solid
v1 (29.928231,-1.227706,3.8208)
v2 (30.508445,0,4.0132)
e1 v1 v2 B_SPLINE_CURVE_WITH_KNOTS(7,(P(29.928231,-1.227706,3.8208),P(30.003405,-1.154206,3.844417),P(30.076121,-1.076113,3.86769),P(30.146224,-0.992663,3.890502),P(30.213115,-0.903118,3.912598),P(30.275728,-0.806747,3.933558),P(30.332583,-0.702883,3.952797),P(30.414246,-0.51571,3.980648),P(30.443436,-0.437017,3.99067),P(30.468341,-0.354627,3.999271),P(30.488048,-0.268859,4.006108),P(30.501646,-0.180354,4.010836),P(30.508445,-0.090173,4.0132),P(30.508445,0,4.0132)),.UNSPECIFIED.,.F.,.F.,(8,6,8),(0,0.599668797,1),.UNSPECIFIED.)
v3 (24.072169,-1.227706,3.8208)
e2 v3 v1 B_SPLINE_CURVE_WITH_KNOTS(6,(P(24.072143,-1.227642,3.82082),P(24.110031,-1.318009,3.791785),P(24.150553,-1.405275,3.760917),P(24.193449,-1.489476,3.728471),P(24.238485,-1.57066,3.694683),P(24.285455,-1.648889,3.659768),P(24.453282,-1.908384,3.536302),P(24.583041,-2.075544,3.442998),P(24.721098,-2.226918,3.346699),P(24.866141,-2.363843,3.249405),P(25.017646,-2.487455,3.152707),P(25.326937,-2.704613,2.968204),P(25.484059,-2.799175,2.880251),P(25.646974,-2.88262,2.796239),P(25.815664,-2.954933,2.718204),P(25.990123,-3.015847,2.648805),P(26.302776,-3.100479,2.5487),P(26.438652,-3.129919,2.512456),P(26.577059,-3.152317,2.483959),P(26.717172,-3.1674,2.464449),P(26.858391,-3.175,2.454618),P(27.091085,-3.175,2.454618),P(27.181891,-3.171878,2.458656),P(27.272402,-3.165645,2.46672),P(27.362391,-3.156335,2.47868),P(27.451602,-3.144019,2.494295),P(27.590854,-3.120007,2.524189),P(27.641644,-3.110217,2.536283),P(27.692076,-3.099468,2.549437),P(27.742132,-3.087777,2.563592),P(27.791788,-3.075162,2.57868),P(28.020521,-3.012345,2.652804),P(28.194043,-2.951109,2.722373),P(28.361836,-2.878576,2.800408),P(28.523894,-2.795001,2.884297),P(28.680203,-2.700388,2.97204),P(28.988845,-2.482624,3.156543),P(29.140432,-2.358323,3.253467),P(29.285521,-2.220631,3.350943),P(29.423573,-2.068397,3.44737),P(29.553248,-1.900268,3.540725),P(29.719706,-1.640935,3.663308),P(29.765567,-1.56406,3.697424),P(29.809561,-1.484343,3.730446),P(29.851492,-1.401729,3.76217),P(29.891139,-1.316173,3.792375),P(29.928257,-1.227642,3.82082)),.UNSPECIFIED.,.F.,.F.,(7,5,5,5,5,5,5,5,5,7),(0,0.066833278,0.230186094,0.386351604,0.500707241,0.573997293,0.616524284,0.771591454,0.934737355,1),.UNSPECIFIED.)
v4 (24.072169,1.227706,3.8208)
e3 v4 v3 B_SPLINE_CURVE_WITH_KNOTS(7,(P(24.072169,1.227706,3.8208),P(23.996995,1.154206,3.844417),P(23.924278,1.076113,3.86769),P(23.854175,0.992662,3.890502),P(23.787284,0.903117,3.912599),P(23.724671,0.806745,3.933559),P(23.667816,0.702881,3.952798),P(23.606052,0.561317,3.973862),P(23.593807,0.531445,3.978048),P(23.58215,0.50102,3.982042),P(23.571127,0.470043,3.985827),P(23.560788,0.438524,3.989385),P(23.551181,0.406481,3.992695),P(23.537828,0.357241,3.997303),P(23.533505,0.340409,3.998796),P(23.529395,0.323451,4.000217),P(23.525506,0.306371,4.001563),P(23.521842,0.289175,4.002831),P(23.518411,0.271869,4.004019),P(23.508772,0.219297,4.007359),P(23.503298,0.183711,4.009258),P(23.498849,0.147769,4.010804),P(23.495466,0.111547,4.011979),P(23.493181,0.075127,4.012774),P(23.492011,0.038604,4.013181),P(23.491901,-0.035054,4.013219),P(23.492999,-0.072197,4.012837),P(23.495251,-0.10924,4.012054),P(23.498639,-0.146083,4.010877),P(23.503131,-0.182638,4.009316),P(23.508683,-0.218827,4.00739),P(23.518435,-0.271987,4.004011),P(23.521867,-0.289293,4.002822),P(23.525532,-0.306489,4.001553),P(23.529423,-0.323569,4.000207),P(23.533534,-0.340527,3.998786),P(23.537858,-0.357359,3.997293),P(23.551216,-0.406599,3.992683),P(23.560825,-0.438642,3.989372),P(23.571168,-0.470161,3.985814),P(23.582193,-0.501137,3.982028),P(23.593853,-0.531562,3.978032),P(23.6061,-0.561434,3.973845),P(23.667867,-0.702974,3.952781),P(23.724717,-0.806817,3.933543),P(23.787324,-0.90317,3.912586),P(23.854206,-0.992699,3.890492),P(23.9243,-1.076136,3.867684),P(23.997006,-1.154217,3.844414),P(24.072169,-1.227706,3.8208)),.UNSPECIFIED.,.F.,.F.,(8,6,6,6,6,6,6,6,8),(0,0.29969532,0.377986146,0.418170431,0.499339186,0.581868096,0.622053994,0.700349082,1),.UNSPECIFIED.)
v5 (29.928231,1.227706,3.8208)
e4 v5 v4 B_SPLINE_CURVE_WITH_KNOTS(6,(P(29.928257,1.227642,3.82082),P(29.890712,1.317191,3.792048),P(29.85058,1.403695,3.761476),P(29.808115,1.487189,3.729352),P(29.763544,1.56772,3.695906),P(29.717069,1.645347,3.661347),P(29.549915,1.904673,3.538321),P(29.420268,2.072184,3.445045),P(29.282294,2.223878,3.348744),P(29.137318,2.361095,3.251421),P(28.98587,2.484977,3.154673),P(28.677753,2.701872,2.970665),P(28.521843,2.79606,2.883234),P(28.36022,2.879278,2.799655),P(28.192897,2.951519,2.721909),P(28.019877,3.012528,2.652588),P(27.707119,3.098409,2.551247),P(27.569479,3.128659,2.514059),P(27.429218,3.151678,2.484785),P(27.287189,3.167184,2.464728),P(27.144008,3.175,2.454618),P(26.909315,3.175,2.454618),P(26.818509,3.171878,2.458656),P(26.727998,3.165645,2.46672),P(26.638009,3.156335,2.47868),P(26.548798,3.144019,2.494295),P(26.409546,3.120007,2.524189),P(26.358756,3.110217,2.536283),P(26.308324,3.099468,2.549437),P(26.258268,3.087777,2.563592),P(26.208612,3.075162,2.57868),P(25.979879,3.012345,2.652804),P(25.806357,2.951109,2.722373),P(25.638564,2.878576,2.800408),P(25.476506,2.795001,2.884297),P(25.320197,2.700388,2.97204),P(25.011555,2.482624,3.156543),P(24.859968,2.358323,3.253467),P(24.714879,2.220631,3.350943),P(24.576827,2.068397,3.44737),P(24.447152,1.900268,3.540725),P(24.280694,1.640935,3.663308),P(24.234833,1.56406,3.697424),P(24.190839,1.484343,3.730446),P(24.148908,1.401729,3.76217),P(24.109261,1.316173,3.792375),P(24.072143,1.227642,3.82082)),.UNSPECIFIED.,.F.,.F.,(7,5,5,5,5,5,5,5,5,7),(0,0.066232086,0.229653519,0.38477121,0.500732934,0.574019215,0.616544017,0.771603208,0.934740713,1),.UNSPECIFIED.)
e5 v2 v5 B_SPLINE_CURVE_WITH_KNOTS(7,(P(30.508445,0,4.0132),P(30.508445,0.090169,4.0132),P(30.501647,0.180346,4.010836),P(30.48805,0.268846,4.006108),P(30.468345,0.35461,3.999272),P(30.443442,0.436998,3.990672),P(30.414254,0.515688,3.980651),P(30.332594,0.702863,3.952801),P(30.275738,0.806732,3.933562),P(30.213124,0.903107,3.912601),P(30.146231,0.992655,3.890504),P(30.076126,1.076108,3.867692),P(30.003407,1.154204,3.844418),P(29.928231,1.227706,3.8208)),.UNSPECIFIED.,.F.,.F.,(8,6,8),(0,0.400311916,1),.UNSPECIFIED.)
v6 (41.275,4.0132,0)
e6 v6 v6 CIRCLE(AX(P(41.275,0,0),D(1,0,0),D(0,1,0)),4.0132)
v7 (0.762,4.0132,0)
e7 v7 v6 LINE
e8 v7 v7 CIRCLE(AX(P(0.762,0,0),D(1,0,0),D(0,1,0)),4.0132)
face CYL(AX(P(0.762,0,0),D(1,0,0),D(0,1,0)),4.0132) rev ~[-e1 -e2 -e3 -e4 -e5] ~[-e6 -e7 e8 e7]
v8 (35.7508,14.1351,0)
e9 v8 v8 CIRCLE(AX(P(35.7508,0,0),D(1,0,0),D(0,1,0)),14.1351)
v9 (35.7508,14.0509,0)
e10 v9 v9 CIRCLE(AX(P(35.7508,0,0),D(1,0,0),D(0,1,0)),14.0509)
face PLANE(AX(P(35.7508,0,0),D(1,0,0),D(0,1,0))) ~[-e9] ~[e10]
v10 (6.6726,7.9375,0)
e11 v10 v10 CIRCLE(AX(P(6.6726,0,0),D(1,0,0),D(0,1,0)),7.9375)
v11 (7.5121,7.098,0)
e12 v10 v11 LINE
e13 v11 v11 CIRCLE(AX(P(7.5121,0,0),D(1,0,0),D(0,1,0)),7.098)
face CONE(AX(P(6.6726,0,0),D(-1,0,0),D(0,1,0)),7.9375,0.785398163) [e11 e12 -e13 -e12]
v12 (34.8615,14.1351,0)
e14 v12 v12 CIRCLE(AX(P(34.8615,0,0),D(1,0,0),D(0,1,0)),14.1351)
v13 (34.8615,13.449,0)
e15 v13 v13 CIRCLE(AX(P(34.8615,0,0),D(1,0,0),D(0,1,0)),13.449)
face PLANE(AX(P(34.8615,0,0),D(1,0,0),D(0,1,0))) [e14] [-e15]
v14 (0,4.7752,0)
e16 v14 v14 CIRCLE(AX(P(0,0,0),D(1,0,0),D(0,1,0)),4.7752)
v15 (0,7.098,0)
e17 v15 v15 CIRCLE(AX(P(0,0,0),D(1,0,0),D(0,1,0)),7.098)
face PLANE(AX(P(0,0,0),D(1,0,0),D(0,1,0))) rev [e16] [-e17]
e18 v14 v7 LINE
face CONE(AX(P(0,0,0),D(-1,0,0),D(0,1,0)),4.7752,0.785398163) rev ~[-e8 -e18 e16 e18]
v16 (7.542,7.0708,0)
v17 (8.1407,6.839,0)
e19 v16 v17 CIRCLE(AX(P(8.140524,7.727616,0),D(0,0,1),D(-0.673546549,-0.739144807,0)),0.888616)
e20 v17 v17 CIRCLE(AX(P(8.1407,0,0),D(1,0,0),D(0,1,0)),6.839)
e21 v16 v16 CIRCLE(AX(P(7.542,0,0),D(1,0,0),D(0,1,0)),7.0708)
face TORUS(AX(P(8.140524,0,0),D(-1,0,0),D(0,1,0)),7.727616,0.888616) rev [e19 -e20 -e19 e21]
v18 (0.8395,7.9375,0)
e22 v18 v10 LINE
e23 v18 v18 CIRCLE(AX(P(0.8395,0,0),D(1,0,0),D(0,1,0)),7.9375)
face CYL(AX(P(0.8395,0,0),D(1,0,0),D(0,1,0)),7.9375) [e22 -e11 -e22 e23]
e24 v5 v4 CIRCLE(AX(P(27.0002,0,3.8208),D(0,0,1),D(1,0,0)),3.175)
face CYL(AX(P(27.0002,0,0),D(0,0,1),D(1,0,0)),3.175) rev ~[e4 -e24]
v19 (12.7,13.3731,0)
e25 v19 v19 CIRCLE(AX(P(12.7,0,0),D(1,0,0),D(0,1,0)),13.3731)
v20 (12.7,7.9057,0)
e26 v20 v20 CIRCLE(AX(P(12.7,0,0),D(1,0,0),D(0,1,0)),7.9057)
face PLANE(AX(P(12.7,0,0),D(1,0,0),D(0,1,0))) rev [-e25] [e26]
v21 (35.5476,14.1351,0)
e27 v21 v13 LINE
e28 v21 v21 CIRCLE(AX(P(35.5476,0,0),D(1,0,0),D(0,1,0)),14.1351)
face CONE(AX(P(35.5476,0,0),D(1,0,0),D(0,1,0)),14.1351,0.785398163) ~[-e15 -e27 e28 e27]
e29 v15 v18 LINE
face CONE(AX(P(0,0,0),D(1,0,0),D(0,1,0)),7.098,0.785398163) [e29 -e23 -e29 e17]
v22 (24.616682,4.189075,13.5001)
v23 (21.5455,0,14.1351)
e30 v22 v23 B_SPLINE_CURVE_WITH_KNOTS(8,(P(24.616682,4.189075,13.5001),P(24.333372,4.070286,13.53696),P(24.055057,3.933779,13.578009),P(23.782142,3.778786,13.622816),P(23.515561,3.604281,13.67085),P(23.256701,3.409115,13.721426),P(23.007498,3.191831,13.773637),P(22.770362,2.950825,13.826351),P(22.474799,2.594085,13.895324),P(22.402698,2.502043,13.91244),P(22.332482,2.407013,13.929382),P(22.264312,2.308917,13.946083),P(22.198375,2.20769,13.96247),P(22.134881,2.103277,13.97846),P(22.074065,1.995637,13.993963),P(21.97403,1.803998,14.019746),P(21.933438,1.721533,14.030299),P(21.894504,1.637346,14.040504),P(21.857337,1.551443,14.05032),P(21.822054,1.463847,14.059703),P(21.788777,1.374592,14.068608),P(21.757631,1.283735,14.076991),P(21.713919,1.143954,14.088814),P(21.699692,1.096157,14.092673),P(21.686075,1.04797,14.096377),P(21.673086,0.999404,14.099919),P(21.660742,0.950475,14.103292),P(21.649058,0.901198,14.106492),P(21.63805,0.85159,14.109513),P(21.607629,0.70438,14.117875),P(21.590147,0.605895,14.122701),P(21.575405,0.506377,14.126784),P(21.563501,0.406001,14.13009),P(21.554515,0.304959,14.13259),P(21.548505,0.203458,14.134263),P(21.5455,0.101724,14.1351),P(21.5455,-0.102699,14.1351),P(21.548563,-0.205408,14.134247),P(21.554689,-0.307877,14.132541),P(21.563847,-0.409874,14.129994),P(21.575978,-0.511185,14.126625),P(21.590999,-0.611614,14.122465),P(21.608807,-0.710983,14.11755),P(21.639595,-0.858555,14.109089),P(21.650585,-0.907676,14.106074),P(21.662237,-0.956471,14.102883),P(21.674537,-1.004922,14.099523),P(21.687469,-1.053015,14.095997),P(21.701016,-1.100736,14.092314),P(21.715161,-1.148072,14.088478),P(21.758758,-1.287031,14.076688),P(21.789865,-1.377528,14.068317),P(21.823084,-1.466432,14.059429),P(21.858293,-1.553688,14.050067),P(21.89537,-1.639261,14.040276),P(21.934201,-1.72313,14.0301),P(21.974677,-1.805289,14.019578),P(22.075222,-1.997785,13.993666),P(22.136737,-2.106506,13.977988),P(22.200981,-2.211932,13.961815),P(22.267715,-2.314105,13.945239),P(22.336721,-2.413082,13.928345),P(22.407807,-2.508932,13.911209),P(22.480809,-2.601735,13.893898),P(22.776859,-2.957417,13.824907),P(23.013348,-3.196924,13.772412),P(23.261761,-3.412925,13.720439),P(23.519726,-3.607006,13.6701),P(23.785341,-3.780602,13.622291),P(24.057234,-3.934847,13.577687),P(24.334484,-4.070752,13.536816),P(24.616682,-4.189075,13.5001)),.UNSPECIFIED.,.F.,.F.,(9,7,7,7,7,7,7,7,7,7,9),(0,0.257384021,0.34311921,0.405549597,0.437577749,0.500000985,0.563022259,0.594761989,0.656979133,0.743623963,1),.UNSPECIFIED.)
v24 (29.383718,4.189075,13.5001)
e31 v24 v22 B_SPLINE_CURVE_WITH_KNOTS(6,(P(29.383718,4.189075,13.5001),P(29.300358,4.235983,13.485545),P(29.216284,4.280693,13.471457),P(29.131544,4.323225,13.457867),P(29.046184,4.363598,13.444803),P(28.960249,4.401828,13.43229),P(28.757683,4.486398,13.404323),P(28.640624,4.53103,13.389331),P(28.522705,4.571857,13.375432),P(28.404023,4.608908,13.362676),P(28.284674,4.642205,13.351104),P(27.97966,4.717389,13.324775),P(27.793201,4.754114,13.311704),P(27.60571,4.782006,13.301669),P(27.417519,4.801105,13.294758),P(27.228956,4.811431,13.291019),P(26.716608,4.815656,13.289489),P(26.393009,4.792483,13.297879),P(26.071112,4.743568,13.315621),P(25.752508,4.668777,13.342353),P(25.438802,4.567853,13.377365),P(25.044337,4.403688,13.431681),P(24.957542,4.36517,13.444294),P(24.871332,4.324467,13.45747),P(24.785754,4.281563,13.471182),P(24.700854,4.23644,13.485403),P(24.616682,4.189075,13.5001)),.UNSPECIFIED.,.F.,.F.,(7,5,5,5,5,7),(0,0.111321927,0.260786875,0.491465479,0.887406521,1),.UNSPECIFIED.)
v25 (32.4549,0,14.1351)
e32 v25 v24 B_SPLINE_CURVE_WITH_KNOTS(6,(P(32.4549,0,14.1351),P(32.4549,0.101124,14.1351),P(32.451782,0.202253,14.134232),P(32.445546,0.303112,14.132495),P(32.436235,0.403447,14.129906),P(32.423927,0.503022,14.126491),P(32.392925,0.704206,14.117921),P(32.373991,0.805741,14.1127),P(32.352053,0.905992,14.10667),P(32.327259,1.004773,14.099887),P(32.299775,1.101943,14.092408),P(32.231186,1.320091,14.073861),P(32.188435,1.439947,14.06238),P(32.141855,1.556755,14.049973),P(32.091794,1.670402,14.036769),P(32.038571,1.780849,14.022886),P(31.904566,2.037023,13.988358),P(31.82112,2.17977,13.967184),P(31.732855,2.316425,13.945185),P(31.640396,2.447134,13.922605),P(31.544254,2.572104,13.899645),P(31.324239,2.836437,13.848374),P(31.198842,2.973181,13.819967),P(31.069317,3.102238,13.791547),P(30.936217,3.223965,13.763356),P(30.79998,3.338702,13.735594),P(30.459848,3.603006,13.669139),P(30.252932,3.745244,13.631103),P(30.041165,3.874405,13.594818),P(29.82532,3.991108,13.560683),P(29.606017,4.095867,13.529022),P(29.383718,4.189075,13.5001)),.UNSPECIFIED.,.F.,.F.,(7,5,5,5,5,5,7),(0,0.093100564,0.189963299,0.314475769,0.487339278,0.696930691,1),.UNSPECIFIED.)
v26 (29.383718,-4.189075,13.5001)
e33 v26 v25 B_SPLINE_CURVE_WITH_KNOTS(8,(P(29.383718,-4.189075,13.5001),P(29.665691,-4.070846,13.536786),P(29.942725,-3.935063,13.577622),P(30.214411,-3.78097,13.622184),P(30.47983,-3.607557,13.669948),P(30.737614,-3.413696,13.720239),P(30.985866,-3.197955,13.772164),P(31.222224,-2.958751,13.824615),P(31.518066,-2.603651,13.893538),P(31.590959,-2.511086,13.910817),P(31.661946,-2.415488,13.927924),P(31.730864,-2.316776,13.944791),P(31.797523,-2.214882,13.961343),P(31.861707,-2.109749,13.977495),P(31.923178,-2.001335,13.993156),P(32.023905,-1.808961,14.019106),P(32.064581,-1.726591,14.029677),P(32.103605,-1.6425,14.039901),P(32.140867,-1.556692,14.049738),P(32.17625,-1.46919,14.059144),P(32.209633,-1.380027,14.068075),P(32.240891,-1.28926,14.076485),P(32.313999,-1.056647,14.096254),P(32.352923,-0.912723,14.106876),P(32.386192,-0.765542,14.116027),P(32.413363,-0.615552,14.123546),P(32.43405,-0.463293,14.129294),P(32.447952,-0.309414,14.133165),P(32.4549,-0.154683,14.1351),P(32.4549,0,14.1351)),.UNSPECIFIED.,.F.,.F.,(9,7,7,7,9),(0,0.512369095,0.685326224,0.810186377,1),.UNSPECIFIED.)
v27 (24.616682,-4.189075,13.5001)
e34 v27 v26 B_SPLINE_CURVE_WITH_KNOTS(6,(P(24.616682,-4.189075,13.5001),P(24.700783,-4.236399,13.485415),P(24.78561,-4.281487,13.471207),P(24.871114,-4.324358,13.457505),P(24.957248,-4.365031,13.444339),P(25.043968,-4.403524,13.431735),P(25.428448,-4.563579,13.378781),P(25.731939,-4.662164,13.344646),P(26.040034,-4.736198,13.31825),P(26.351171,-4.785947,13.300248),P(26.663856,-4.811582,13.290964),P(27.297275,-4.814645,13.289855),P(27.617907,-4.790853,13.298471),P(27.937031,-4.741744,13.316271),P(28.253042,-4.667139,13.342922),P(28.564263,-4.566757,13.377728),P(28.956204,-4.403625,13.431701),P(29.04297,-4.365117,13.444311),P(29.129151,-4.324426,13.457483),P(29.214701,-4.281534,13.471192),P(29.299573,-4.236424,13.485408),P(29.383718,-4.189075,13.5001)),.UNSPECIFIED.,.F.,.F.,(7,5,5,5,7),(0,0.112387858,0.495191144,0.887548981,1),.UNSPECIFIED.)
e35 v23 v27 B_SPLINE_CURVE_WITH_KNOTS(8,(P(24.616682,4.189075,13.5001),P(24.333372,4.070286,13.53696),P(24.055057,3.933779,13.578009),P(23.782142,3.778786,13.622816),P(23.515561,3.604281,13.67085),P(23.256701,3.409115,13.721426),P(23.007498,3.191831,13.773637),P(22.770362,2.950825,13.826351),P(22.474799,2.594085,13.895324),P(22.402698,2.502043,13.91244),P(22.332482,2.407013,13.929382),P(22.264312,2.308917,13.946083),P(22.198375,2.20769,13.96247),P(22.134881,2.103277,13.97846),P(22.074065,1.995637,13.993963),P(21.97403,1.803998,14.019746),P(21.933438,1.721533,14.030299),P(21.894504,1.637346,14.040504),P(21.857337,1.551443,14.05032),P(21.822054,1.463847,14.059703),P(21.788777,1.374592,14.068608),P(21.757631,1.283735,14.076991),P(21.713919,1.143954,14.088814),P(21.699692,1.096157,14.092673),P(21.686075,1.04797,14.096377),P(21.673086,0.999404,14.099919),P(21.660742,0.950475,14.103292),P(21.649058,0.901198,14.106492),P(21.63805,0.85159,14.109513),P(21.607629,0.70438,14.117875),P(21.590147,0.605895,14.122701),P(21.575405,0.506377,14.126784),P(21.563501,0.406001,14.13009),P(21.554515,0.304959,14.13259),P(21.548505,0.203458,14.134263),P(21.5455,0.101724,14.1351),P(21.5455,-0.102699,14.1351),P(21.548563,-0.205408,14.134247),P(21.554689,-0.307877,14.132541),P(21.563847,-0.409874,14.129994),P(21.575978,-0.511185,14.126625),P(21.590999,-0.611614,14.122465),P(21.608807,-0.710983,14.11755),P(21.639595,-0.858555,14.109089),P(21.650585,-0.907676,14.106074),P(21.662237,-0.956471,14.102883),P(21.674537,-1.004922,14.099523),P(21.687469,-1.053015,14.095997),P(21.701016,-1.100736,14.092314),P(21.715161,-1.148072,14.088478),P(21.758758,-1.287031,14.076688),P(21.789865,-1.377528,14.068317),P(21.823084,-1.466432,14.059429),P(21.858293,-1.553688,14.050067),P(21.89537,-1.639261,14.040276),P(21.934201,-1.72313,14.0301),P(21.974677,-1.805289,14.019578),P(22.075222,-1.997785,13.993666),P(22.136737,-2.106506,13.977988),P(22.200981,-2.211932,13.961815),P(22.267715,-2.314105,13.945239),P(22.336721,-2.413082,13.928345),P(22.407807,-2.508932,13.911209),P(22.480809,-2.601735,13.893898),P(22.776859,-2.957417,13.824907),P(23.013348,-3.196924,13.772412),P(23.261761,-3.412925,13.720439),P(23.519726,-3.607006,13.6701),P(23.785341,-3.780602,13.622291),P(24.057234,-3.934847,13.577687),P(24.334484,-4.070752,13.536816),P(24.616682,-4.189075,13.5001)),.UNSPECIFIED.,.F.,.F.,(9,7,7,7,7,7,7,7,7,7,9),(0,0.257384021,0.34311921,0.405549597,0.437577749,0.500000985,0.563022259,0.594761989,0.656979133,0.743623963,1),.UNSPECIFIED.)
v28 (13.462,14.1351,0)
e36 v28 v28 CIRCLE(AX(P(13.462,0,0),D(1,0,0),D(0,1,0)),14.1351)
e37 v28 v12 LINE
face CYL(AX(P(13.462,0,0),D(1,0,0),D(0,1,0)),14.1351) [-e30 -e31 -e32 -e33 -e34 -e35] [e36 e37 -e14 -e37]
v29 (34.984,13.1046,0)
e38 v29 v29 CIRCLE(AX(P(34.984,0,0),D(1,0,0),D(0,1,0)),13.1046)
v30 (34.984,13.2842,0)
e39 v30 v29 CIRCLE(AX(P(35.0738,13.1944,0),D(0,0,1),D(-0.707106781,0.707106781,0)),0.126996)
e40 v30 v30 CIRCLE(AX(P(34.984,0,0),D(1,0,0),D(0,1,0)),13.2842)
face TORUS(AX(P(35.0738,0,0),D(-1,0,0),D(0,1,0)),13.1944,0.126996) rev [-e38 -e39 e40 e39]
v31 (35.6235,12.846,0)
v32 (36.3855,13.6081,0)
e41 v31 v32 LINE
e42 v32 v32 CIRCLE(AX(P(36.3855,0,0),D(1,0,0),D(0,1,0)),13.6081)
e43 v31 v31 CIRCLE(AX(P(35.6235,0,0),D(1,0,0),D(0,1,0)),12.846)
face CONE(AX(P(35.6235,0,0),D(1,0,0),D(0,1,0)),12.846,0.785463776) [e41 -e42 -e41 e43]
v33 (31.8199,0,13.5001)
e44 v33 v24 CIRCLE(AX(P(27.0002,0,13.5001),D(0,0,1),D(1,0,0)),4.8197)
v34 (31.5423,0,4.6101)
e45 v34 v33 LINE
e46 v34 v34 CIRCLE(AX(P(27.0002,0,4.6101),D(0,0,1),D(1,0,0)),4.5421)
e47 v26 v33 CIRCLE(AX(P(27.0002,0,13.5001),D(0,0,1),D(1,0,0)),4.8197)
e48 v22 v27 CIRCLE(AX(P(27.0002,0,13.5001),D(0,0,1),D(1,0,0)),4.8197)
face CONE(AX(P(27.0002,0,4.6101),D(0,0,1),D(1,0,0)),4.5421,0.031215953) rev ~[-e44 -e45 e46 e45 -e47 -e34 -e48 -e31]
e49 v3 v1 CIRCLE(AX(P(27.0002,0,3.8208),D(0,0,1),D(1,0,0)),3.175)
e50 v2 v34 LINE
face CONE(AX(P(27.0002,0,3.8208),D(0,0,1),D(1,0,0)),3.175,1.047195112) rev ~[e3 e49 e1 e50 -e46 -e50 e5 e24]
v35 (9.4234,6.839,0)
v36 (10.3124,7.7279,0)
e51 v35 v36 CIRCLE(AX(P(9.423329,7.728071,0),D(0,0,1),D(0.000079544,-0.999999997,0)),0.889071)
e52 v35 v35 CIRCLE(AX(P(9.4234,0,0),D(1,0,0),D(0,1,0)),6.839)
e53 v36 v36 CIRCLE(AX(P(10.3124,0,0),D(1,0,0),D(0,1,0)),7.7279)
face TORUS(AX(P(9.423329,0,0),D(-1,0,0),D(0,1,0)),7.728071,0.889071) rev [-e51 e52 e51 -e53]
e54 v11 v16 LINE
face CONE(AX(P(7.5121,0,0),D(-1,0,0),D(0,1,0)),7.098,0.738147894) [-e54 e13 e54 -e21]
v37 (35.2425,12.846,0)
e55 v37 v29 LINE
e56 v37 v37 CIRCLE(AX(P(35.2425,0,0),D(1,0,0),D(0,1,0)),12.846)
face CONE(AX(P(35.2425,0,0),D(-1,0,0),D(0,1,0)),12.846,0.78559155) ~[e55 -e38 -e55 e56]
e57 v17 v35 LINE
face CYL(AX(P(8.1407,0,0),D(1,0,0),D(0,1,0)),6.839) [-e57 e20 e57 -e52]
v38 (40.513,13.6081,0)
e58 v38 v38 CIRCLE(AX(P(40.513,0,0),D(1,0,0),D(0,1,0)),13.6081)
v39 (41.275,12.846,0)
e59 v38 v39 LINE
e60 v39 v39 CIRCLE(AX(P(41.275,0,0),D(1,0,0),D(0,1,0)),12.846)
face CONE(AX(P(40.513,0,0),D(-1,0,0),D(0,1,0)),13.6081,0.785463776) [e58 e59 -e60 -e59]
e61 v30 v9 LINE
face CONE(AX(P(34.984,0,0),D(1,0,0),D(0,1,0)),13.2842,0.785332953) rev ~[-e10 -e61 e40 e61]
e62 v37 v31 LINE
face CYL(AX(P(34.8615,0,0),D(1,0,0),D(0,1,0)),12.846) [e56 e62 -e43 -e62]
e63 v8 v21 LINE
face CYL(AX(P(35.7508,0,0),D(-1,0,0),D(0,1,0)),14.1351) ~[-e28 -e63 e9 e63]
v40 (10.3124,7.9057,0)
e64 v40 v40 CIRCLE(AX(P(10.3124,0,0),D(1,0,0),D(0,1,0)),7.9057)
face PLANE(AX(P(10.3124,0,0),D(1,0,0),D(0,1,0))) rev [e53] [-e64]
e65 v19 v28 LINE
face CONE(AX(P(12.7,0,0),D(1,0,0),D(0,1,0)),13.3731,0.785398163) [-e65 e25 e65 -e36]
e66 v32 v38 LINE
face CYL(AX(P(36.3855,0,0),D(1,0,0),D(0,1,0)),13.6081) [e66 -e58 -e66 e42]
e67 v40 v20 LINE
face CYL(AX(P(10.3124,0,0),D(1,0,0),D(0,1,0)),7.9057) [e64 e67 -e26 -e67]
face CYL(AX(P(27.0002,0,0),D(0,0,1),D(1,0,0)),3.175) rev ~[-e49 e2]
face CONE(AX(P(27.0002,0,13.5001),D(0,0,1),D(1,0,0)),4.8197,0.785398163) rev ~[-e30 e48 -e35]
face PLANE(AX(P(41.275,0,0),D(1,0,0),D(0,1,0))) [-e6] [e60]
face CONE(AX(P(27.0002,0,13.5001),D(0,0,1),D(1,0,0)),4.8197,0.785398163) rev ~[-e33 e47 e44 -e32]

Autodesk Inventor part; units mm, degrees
sketch "Sketch_2" plane through (0, 0, 0) normal (0, 0, 1) x (1, 0, 0)
  line L0 (12.7, 0) -> (0, 0)
  line L1 (0, 0) -> (0, 7.098)
  line L2 (0, 7.098) -> (0.8395, 7.9375)
  line L3 (0.8395, 7.9375) -> (6.6726, 7.9375)
  line L4 (6.6726, 7.9375) -> (7.5121, 7.098)
  line L5 (7.5121, 7.098) -> (7.542, 7.0708)
  arc A0 (7.542, 7.0708) -> (8.1407, 6.839) centre (8.1407, 7.7279) ccw
  line L6 (8.1407, 6.839) -> (9.4234, 6.839)
  arc A1 (9.4234, 6.839) -> (10.3124, 7.7279) centre (9.4234, 7.7279) ccw
  line L7 (10.3124, 7.7279) -> (10.3124, 7.9057)
  line L8 (10.3124, 7.9057) -> (12.7, 7.9057)
  line L9 (12.7, 7.9057) -> (12.7, 0)
  line L10 (12.7, 0) -> (0, 0)
revolve "Revolution1" add sketch "Sketch_2" angle 360 about axis through (12.7, 0, 0) along (1, 0, 0)
thread "Thread1" size "5/8-18 UNF" class "3A" standard "ANSI Unified Screw Threads" full length
sketch "Sketch_3" plane through (0, 0, 0) normal (0, 0, 1) x (1, 0, 0)
  line L0 (41.275, 0) -> (12.7, 0)
  line L1 (12.7, 0) -> (12.7, 13.3731)
  line L2 (12.7, 13.3731) -> (13.462, 14.1351)
  line L3 (13.462, 14.1351) -> (34.8615, 14.1351)
  line L4 (34.8615, 14.1351) -> (34.8615, 12.846)
  line L5 (34.8615, 12.846) -> (35.6235, 12.846)
  line L6 (35.6235, 12.846) -> (36.3855, 13.6081)
  line L7 (36.3855, 13.6081) -> (40.513, 13.6081)
  line L8 (40.513, 13.6081) -> (41.275, 12.846)
  line L9 (41.275, 12.846) -> (41.275, 0)
  line L10 (41.275, 0) -> (12.7, 0)
revolve "Revolution2" add sketch "Sketch_3" angle 360 about axis through (41.275, 0, 0) along (1, 0, 0)
sketch "Sketch_5" plane through (0, 0, 0) normal (0, 0, 1) x (1, 0, 0)
  line L0 (41.275, 0) -> (0, 0)
  line L1 (0, 0) -> (0, 4.7752)
  line L2 (0, 4.7752) -> (0.762, 4.0132)
  line L3 (0.762, 4.0132) -> (41.275, 4.0132)
  line L4 (41.275, 4.0132) -> (41.275, 0)
  line L5 (41.275, 0) -> (0, 0)
revolve "Revolution3" cut sketch "Sketch_5" angle 360 about axis through (41.275, 0, 0) along (1, 0, 0)
sketch "Sketch_40" plane through (0, 0, 0) normal (0, 1, 0) x (-1, 0, 0)
  line L0 (-27.0002, 14.1351) -> (-27.0002, 0)
  line L1 (-27.0002, 0) -> (-30.1752, 0)
  line L2 (-30.1752, 0) -> (-30.1752, 3.8208)
  line L3 (-30.1752, 3.8208) -> (-31.5423, 4.6101)
  line L4 (-31.5423, 4.6101) -> (-31.8199, 13.5001)
  line L5 (-31.8199, 13.5001) -> (-32.4549, 14.1351)
  line L6 (-32.4549, 14.1351) -> (-27.0002, 14.1351)
  line L7 (-27.0002, 14.1351) -> (-27.0002, 0)
revolve "Revolution4" cut sketch "Sketch_40" angle 360 about axis through (27.0002, 0, 14.1351) along (0, 0, 1)
sketch "Sketch_47" plane through (0, 0, 0) normal (0, 0, 1) x (1, 0, 0)
  line L0 (35.6235, 0) -> (34.8615, 0)
  line L1 (34.8615, 12.5921) -> (35.6235, 12.5921)
  line L2 (35.6235, 12.5921) -> (35.6235, 12.846)
  line L3 (35.6235, 12.846) -> (35.2425, 12.846)
  line L4 (35.2425, 12.846) -> (34.984, 13.1046)
  arc A0 (34.984, 13.2842) -> (34.984, 13.1046) centre (35.0738, 13.1944) ccw
  line L5 (34.984, 13.2842) -> (35.7508, 14.0509)
  line L6 (35.7508, 14.0509) -> (35.7508, 14.1351)
  line L7 (35.7508, 14.1351) -> (35.5476, 14.1351)
  line L8 (35.5476, 14.1351) -> (34.8615, 13.449)
  line L9 (34.8615, 13.449) -> (34.8615, 12.5921)
revolve "Revolution5" add sketch "Sketch_47" angle 360 about axis through (35.6235, 0, 0) along (1, 0, 0)
ref_plane "s1_XY" through (10.3124, 0, 0) normal (0, 0, 1) x (1, 0, 0)
ref_plane "s1_YZ" through (10.3124, 0, 0) normal (1, 0, 0) x (0, 1, 0)
ref_plane "s1_ZX" through (10.3124, 0, 0) normal (0, 1, 0) x (0, 0, 1)
ref_plane "s2_XY" through (12.7, 0, 0) normal (0, 0, 1) x (1, 0, 0)
ref_plane "s2_YZ" through (12.7, 0, 0) normal (1, 0, 0) x (0, 1, 0)
ref_plane "s2_ZX" through (12.7, 0, 0) normal (0, 1, 0) x (0, 0, 1)
ref_plane "dp1_XY" through (12.7, 7.9057, 0) normal (0, 0, 1) x (1, 0, 0)
ref_plane "dp1_YZ" through (12.7, 7.9057, 0) normal (1, 0, 0) x (0, 1, 0)
ref_plane "dp1_ZX" through (12.7, 7.9057, 0) normal (0, 1, 0) x (0, 0, 1)
ref_plane "dp2_XY" through (12.7, -7.9057, 0) normal (0, 0, 1) x (1, 0, 0)
ref_plane "dp2_YZ" through (12.7, -7.9057, 0) normal (1, 0, 0) x (0, 1, 0)
ref_plane "dp2_ZX" through (12.7, -7.9057, 0) normal (0, 1, 0) x (0, 0, 1)
ref_plane "rod_guide_XY" through (0, 0, 0) normal (1, 0, 0) x (0, 0, -1)
ref_plane "rod_guide_YZ" through (0, 0, 0) normal (0, 0, -1) x (0, 1, 0)
ref_plane "rod_guide_ZX" through (0, 0, 0) normal (0, 1, 0) x (1, 0, 0)
ref_plane "to_tube_XY" through (35.6235, 0, 0) normal (1, 0, 0) x (0, 0, -1)
ref_plane "to_tube_YZ" through (35.6235, 0, 0) normal (0, 0, -1) x (0, 1, 0)
ref_plane "to_tube_ZX" through (35.6235, 0, 0) normal (0, 1, 0) x (1, 0, 0)
ref_plane "to_foot_bracket_XY" through (12.7, 0, 0) normal (1, 0, 0) x (0, 0, -1)
ref_plane "to_foot_bracket_YZ" through (12.7, 0, 0) normal (0, 0, -1) x (0, 1, 0)
ref_plane "to_foot_bracket_ZX" through (12.7, 0, 0) normal (0, 1, 0) x (1, 0, 0)
ref_plane "to_nut_XY" through (10.3124, 0, 0) normal (1, 0, 0) x (0, 0, -1)
ref_plane "to_nut_YZ" through (10.3124, 0, 0) normal (0, 0, -1) x (0, 1, 0)
ref_plane "to_nut_ZX" through (10.3124, 0, 0) normal (0, 1, 0) x (1, 0, 0)
ref_plane "to_trunnion_brackets_XY" through (18.2118, 0, 0) normal (0, 1, 0) x (1, 0, 0)
ref_plane "to_trunnion_brackets_YZ" through (18.2118, 0, 0) normal (1, 0, 0) x (0, 0, -1)
ref_plane "to_trunnion_brackets_ZX" through (18.2118, 0, 0) normal (0, 0, -1) x (0, 1, 0)
ref_plane "to_trunnion_brackets1_XY" through (18.2118, 15.875, 0) normal (0, 1, 0) x (1, 0, 0)
ref_plane "to_trunnion_brackets1_YZ" through (18.2118, 15.875, 0) normal (1, 0, 0) x (0, 0, -1)
ref_plane "to_trunnion_brackets1_ZX" through (18.2118, 15.875, 0) normal (0, 0, -1) x (0, 1, 0)
ref_plane "to_trunnion_brackets2_XY" through (18.2118, -15.875, 0) normal (0, 1, 0) x (1, 0, 0)
ref_plane "to_trunnion_brackets2_YZ" through (18.2118, -15.875, 0) normal (1, 0, 0) x (0, 0, -1)
ref_plane "to_trunnion_brackets2_ZX" through (18.2118, -15.875, 0) normal (0, 0, -1) x (0, 1, 0)
ref_plane "t111_XY" through (12.7, 0, 0) normal (1, 0, 0) x (0, 0, -1)
ref_plane "t111_YZ" through (12.7, 0, 0) normal (0, 0, -1) x (0, 1, 0)
ref_plane "t111_ZX" through (12.7, 0, 0) normal (0, 1, 0) x (1, 0, 0)
ref_plane "t1_XY" through (12.7, 0, 0) normal (1, 0, 0) x (0, 0, -1)
ref_plane "t1_YZ" through (12.7, 0, 0) normal (0, 0, -1) x (0, 1, 0)
ref_plane "t1_ZX" through (12.7, 0, 0) normal (0, 1, 0) x (1, 0, 0)
ref_plane "port_XY" through (27.0002, 0, 0) normal (0, 0, 1) x (1, 0, 0)
ref_plane "port_YZ" through (27.0002, 0, 0) normal (1, 0, 0) x (0, 1, 0)
ref_plane "port_ZX" through (27.0002, 0, 0) normal (0, 1, 0) x (0, 0, 1)
ref_plane "to_screw_XY" through (27.0002, 10.2743, -7.0485) normal (0, 1, 0) x (1, 0, 0)
ref_plane "to_screw_YZ" through (27.0002, 10.2743, -7.0485) normal (1, 0, 0) x (0, 0, -1)
ref_plane "to_screw_ZX" through (27.0002, 10.2743, -7.0485) normal (0, 0, -1) x (0, 1, 0)
properties part number "09R000_rod_guide"
